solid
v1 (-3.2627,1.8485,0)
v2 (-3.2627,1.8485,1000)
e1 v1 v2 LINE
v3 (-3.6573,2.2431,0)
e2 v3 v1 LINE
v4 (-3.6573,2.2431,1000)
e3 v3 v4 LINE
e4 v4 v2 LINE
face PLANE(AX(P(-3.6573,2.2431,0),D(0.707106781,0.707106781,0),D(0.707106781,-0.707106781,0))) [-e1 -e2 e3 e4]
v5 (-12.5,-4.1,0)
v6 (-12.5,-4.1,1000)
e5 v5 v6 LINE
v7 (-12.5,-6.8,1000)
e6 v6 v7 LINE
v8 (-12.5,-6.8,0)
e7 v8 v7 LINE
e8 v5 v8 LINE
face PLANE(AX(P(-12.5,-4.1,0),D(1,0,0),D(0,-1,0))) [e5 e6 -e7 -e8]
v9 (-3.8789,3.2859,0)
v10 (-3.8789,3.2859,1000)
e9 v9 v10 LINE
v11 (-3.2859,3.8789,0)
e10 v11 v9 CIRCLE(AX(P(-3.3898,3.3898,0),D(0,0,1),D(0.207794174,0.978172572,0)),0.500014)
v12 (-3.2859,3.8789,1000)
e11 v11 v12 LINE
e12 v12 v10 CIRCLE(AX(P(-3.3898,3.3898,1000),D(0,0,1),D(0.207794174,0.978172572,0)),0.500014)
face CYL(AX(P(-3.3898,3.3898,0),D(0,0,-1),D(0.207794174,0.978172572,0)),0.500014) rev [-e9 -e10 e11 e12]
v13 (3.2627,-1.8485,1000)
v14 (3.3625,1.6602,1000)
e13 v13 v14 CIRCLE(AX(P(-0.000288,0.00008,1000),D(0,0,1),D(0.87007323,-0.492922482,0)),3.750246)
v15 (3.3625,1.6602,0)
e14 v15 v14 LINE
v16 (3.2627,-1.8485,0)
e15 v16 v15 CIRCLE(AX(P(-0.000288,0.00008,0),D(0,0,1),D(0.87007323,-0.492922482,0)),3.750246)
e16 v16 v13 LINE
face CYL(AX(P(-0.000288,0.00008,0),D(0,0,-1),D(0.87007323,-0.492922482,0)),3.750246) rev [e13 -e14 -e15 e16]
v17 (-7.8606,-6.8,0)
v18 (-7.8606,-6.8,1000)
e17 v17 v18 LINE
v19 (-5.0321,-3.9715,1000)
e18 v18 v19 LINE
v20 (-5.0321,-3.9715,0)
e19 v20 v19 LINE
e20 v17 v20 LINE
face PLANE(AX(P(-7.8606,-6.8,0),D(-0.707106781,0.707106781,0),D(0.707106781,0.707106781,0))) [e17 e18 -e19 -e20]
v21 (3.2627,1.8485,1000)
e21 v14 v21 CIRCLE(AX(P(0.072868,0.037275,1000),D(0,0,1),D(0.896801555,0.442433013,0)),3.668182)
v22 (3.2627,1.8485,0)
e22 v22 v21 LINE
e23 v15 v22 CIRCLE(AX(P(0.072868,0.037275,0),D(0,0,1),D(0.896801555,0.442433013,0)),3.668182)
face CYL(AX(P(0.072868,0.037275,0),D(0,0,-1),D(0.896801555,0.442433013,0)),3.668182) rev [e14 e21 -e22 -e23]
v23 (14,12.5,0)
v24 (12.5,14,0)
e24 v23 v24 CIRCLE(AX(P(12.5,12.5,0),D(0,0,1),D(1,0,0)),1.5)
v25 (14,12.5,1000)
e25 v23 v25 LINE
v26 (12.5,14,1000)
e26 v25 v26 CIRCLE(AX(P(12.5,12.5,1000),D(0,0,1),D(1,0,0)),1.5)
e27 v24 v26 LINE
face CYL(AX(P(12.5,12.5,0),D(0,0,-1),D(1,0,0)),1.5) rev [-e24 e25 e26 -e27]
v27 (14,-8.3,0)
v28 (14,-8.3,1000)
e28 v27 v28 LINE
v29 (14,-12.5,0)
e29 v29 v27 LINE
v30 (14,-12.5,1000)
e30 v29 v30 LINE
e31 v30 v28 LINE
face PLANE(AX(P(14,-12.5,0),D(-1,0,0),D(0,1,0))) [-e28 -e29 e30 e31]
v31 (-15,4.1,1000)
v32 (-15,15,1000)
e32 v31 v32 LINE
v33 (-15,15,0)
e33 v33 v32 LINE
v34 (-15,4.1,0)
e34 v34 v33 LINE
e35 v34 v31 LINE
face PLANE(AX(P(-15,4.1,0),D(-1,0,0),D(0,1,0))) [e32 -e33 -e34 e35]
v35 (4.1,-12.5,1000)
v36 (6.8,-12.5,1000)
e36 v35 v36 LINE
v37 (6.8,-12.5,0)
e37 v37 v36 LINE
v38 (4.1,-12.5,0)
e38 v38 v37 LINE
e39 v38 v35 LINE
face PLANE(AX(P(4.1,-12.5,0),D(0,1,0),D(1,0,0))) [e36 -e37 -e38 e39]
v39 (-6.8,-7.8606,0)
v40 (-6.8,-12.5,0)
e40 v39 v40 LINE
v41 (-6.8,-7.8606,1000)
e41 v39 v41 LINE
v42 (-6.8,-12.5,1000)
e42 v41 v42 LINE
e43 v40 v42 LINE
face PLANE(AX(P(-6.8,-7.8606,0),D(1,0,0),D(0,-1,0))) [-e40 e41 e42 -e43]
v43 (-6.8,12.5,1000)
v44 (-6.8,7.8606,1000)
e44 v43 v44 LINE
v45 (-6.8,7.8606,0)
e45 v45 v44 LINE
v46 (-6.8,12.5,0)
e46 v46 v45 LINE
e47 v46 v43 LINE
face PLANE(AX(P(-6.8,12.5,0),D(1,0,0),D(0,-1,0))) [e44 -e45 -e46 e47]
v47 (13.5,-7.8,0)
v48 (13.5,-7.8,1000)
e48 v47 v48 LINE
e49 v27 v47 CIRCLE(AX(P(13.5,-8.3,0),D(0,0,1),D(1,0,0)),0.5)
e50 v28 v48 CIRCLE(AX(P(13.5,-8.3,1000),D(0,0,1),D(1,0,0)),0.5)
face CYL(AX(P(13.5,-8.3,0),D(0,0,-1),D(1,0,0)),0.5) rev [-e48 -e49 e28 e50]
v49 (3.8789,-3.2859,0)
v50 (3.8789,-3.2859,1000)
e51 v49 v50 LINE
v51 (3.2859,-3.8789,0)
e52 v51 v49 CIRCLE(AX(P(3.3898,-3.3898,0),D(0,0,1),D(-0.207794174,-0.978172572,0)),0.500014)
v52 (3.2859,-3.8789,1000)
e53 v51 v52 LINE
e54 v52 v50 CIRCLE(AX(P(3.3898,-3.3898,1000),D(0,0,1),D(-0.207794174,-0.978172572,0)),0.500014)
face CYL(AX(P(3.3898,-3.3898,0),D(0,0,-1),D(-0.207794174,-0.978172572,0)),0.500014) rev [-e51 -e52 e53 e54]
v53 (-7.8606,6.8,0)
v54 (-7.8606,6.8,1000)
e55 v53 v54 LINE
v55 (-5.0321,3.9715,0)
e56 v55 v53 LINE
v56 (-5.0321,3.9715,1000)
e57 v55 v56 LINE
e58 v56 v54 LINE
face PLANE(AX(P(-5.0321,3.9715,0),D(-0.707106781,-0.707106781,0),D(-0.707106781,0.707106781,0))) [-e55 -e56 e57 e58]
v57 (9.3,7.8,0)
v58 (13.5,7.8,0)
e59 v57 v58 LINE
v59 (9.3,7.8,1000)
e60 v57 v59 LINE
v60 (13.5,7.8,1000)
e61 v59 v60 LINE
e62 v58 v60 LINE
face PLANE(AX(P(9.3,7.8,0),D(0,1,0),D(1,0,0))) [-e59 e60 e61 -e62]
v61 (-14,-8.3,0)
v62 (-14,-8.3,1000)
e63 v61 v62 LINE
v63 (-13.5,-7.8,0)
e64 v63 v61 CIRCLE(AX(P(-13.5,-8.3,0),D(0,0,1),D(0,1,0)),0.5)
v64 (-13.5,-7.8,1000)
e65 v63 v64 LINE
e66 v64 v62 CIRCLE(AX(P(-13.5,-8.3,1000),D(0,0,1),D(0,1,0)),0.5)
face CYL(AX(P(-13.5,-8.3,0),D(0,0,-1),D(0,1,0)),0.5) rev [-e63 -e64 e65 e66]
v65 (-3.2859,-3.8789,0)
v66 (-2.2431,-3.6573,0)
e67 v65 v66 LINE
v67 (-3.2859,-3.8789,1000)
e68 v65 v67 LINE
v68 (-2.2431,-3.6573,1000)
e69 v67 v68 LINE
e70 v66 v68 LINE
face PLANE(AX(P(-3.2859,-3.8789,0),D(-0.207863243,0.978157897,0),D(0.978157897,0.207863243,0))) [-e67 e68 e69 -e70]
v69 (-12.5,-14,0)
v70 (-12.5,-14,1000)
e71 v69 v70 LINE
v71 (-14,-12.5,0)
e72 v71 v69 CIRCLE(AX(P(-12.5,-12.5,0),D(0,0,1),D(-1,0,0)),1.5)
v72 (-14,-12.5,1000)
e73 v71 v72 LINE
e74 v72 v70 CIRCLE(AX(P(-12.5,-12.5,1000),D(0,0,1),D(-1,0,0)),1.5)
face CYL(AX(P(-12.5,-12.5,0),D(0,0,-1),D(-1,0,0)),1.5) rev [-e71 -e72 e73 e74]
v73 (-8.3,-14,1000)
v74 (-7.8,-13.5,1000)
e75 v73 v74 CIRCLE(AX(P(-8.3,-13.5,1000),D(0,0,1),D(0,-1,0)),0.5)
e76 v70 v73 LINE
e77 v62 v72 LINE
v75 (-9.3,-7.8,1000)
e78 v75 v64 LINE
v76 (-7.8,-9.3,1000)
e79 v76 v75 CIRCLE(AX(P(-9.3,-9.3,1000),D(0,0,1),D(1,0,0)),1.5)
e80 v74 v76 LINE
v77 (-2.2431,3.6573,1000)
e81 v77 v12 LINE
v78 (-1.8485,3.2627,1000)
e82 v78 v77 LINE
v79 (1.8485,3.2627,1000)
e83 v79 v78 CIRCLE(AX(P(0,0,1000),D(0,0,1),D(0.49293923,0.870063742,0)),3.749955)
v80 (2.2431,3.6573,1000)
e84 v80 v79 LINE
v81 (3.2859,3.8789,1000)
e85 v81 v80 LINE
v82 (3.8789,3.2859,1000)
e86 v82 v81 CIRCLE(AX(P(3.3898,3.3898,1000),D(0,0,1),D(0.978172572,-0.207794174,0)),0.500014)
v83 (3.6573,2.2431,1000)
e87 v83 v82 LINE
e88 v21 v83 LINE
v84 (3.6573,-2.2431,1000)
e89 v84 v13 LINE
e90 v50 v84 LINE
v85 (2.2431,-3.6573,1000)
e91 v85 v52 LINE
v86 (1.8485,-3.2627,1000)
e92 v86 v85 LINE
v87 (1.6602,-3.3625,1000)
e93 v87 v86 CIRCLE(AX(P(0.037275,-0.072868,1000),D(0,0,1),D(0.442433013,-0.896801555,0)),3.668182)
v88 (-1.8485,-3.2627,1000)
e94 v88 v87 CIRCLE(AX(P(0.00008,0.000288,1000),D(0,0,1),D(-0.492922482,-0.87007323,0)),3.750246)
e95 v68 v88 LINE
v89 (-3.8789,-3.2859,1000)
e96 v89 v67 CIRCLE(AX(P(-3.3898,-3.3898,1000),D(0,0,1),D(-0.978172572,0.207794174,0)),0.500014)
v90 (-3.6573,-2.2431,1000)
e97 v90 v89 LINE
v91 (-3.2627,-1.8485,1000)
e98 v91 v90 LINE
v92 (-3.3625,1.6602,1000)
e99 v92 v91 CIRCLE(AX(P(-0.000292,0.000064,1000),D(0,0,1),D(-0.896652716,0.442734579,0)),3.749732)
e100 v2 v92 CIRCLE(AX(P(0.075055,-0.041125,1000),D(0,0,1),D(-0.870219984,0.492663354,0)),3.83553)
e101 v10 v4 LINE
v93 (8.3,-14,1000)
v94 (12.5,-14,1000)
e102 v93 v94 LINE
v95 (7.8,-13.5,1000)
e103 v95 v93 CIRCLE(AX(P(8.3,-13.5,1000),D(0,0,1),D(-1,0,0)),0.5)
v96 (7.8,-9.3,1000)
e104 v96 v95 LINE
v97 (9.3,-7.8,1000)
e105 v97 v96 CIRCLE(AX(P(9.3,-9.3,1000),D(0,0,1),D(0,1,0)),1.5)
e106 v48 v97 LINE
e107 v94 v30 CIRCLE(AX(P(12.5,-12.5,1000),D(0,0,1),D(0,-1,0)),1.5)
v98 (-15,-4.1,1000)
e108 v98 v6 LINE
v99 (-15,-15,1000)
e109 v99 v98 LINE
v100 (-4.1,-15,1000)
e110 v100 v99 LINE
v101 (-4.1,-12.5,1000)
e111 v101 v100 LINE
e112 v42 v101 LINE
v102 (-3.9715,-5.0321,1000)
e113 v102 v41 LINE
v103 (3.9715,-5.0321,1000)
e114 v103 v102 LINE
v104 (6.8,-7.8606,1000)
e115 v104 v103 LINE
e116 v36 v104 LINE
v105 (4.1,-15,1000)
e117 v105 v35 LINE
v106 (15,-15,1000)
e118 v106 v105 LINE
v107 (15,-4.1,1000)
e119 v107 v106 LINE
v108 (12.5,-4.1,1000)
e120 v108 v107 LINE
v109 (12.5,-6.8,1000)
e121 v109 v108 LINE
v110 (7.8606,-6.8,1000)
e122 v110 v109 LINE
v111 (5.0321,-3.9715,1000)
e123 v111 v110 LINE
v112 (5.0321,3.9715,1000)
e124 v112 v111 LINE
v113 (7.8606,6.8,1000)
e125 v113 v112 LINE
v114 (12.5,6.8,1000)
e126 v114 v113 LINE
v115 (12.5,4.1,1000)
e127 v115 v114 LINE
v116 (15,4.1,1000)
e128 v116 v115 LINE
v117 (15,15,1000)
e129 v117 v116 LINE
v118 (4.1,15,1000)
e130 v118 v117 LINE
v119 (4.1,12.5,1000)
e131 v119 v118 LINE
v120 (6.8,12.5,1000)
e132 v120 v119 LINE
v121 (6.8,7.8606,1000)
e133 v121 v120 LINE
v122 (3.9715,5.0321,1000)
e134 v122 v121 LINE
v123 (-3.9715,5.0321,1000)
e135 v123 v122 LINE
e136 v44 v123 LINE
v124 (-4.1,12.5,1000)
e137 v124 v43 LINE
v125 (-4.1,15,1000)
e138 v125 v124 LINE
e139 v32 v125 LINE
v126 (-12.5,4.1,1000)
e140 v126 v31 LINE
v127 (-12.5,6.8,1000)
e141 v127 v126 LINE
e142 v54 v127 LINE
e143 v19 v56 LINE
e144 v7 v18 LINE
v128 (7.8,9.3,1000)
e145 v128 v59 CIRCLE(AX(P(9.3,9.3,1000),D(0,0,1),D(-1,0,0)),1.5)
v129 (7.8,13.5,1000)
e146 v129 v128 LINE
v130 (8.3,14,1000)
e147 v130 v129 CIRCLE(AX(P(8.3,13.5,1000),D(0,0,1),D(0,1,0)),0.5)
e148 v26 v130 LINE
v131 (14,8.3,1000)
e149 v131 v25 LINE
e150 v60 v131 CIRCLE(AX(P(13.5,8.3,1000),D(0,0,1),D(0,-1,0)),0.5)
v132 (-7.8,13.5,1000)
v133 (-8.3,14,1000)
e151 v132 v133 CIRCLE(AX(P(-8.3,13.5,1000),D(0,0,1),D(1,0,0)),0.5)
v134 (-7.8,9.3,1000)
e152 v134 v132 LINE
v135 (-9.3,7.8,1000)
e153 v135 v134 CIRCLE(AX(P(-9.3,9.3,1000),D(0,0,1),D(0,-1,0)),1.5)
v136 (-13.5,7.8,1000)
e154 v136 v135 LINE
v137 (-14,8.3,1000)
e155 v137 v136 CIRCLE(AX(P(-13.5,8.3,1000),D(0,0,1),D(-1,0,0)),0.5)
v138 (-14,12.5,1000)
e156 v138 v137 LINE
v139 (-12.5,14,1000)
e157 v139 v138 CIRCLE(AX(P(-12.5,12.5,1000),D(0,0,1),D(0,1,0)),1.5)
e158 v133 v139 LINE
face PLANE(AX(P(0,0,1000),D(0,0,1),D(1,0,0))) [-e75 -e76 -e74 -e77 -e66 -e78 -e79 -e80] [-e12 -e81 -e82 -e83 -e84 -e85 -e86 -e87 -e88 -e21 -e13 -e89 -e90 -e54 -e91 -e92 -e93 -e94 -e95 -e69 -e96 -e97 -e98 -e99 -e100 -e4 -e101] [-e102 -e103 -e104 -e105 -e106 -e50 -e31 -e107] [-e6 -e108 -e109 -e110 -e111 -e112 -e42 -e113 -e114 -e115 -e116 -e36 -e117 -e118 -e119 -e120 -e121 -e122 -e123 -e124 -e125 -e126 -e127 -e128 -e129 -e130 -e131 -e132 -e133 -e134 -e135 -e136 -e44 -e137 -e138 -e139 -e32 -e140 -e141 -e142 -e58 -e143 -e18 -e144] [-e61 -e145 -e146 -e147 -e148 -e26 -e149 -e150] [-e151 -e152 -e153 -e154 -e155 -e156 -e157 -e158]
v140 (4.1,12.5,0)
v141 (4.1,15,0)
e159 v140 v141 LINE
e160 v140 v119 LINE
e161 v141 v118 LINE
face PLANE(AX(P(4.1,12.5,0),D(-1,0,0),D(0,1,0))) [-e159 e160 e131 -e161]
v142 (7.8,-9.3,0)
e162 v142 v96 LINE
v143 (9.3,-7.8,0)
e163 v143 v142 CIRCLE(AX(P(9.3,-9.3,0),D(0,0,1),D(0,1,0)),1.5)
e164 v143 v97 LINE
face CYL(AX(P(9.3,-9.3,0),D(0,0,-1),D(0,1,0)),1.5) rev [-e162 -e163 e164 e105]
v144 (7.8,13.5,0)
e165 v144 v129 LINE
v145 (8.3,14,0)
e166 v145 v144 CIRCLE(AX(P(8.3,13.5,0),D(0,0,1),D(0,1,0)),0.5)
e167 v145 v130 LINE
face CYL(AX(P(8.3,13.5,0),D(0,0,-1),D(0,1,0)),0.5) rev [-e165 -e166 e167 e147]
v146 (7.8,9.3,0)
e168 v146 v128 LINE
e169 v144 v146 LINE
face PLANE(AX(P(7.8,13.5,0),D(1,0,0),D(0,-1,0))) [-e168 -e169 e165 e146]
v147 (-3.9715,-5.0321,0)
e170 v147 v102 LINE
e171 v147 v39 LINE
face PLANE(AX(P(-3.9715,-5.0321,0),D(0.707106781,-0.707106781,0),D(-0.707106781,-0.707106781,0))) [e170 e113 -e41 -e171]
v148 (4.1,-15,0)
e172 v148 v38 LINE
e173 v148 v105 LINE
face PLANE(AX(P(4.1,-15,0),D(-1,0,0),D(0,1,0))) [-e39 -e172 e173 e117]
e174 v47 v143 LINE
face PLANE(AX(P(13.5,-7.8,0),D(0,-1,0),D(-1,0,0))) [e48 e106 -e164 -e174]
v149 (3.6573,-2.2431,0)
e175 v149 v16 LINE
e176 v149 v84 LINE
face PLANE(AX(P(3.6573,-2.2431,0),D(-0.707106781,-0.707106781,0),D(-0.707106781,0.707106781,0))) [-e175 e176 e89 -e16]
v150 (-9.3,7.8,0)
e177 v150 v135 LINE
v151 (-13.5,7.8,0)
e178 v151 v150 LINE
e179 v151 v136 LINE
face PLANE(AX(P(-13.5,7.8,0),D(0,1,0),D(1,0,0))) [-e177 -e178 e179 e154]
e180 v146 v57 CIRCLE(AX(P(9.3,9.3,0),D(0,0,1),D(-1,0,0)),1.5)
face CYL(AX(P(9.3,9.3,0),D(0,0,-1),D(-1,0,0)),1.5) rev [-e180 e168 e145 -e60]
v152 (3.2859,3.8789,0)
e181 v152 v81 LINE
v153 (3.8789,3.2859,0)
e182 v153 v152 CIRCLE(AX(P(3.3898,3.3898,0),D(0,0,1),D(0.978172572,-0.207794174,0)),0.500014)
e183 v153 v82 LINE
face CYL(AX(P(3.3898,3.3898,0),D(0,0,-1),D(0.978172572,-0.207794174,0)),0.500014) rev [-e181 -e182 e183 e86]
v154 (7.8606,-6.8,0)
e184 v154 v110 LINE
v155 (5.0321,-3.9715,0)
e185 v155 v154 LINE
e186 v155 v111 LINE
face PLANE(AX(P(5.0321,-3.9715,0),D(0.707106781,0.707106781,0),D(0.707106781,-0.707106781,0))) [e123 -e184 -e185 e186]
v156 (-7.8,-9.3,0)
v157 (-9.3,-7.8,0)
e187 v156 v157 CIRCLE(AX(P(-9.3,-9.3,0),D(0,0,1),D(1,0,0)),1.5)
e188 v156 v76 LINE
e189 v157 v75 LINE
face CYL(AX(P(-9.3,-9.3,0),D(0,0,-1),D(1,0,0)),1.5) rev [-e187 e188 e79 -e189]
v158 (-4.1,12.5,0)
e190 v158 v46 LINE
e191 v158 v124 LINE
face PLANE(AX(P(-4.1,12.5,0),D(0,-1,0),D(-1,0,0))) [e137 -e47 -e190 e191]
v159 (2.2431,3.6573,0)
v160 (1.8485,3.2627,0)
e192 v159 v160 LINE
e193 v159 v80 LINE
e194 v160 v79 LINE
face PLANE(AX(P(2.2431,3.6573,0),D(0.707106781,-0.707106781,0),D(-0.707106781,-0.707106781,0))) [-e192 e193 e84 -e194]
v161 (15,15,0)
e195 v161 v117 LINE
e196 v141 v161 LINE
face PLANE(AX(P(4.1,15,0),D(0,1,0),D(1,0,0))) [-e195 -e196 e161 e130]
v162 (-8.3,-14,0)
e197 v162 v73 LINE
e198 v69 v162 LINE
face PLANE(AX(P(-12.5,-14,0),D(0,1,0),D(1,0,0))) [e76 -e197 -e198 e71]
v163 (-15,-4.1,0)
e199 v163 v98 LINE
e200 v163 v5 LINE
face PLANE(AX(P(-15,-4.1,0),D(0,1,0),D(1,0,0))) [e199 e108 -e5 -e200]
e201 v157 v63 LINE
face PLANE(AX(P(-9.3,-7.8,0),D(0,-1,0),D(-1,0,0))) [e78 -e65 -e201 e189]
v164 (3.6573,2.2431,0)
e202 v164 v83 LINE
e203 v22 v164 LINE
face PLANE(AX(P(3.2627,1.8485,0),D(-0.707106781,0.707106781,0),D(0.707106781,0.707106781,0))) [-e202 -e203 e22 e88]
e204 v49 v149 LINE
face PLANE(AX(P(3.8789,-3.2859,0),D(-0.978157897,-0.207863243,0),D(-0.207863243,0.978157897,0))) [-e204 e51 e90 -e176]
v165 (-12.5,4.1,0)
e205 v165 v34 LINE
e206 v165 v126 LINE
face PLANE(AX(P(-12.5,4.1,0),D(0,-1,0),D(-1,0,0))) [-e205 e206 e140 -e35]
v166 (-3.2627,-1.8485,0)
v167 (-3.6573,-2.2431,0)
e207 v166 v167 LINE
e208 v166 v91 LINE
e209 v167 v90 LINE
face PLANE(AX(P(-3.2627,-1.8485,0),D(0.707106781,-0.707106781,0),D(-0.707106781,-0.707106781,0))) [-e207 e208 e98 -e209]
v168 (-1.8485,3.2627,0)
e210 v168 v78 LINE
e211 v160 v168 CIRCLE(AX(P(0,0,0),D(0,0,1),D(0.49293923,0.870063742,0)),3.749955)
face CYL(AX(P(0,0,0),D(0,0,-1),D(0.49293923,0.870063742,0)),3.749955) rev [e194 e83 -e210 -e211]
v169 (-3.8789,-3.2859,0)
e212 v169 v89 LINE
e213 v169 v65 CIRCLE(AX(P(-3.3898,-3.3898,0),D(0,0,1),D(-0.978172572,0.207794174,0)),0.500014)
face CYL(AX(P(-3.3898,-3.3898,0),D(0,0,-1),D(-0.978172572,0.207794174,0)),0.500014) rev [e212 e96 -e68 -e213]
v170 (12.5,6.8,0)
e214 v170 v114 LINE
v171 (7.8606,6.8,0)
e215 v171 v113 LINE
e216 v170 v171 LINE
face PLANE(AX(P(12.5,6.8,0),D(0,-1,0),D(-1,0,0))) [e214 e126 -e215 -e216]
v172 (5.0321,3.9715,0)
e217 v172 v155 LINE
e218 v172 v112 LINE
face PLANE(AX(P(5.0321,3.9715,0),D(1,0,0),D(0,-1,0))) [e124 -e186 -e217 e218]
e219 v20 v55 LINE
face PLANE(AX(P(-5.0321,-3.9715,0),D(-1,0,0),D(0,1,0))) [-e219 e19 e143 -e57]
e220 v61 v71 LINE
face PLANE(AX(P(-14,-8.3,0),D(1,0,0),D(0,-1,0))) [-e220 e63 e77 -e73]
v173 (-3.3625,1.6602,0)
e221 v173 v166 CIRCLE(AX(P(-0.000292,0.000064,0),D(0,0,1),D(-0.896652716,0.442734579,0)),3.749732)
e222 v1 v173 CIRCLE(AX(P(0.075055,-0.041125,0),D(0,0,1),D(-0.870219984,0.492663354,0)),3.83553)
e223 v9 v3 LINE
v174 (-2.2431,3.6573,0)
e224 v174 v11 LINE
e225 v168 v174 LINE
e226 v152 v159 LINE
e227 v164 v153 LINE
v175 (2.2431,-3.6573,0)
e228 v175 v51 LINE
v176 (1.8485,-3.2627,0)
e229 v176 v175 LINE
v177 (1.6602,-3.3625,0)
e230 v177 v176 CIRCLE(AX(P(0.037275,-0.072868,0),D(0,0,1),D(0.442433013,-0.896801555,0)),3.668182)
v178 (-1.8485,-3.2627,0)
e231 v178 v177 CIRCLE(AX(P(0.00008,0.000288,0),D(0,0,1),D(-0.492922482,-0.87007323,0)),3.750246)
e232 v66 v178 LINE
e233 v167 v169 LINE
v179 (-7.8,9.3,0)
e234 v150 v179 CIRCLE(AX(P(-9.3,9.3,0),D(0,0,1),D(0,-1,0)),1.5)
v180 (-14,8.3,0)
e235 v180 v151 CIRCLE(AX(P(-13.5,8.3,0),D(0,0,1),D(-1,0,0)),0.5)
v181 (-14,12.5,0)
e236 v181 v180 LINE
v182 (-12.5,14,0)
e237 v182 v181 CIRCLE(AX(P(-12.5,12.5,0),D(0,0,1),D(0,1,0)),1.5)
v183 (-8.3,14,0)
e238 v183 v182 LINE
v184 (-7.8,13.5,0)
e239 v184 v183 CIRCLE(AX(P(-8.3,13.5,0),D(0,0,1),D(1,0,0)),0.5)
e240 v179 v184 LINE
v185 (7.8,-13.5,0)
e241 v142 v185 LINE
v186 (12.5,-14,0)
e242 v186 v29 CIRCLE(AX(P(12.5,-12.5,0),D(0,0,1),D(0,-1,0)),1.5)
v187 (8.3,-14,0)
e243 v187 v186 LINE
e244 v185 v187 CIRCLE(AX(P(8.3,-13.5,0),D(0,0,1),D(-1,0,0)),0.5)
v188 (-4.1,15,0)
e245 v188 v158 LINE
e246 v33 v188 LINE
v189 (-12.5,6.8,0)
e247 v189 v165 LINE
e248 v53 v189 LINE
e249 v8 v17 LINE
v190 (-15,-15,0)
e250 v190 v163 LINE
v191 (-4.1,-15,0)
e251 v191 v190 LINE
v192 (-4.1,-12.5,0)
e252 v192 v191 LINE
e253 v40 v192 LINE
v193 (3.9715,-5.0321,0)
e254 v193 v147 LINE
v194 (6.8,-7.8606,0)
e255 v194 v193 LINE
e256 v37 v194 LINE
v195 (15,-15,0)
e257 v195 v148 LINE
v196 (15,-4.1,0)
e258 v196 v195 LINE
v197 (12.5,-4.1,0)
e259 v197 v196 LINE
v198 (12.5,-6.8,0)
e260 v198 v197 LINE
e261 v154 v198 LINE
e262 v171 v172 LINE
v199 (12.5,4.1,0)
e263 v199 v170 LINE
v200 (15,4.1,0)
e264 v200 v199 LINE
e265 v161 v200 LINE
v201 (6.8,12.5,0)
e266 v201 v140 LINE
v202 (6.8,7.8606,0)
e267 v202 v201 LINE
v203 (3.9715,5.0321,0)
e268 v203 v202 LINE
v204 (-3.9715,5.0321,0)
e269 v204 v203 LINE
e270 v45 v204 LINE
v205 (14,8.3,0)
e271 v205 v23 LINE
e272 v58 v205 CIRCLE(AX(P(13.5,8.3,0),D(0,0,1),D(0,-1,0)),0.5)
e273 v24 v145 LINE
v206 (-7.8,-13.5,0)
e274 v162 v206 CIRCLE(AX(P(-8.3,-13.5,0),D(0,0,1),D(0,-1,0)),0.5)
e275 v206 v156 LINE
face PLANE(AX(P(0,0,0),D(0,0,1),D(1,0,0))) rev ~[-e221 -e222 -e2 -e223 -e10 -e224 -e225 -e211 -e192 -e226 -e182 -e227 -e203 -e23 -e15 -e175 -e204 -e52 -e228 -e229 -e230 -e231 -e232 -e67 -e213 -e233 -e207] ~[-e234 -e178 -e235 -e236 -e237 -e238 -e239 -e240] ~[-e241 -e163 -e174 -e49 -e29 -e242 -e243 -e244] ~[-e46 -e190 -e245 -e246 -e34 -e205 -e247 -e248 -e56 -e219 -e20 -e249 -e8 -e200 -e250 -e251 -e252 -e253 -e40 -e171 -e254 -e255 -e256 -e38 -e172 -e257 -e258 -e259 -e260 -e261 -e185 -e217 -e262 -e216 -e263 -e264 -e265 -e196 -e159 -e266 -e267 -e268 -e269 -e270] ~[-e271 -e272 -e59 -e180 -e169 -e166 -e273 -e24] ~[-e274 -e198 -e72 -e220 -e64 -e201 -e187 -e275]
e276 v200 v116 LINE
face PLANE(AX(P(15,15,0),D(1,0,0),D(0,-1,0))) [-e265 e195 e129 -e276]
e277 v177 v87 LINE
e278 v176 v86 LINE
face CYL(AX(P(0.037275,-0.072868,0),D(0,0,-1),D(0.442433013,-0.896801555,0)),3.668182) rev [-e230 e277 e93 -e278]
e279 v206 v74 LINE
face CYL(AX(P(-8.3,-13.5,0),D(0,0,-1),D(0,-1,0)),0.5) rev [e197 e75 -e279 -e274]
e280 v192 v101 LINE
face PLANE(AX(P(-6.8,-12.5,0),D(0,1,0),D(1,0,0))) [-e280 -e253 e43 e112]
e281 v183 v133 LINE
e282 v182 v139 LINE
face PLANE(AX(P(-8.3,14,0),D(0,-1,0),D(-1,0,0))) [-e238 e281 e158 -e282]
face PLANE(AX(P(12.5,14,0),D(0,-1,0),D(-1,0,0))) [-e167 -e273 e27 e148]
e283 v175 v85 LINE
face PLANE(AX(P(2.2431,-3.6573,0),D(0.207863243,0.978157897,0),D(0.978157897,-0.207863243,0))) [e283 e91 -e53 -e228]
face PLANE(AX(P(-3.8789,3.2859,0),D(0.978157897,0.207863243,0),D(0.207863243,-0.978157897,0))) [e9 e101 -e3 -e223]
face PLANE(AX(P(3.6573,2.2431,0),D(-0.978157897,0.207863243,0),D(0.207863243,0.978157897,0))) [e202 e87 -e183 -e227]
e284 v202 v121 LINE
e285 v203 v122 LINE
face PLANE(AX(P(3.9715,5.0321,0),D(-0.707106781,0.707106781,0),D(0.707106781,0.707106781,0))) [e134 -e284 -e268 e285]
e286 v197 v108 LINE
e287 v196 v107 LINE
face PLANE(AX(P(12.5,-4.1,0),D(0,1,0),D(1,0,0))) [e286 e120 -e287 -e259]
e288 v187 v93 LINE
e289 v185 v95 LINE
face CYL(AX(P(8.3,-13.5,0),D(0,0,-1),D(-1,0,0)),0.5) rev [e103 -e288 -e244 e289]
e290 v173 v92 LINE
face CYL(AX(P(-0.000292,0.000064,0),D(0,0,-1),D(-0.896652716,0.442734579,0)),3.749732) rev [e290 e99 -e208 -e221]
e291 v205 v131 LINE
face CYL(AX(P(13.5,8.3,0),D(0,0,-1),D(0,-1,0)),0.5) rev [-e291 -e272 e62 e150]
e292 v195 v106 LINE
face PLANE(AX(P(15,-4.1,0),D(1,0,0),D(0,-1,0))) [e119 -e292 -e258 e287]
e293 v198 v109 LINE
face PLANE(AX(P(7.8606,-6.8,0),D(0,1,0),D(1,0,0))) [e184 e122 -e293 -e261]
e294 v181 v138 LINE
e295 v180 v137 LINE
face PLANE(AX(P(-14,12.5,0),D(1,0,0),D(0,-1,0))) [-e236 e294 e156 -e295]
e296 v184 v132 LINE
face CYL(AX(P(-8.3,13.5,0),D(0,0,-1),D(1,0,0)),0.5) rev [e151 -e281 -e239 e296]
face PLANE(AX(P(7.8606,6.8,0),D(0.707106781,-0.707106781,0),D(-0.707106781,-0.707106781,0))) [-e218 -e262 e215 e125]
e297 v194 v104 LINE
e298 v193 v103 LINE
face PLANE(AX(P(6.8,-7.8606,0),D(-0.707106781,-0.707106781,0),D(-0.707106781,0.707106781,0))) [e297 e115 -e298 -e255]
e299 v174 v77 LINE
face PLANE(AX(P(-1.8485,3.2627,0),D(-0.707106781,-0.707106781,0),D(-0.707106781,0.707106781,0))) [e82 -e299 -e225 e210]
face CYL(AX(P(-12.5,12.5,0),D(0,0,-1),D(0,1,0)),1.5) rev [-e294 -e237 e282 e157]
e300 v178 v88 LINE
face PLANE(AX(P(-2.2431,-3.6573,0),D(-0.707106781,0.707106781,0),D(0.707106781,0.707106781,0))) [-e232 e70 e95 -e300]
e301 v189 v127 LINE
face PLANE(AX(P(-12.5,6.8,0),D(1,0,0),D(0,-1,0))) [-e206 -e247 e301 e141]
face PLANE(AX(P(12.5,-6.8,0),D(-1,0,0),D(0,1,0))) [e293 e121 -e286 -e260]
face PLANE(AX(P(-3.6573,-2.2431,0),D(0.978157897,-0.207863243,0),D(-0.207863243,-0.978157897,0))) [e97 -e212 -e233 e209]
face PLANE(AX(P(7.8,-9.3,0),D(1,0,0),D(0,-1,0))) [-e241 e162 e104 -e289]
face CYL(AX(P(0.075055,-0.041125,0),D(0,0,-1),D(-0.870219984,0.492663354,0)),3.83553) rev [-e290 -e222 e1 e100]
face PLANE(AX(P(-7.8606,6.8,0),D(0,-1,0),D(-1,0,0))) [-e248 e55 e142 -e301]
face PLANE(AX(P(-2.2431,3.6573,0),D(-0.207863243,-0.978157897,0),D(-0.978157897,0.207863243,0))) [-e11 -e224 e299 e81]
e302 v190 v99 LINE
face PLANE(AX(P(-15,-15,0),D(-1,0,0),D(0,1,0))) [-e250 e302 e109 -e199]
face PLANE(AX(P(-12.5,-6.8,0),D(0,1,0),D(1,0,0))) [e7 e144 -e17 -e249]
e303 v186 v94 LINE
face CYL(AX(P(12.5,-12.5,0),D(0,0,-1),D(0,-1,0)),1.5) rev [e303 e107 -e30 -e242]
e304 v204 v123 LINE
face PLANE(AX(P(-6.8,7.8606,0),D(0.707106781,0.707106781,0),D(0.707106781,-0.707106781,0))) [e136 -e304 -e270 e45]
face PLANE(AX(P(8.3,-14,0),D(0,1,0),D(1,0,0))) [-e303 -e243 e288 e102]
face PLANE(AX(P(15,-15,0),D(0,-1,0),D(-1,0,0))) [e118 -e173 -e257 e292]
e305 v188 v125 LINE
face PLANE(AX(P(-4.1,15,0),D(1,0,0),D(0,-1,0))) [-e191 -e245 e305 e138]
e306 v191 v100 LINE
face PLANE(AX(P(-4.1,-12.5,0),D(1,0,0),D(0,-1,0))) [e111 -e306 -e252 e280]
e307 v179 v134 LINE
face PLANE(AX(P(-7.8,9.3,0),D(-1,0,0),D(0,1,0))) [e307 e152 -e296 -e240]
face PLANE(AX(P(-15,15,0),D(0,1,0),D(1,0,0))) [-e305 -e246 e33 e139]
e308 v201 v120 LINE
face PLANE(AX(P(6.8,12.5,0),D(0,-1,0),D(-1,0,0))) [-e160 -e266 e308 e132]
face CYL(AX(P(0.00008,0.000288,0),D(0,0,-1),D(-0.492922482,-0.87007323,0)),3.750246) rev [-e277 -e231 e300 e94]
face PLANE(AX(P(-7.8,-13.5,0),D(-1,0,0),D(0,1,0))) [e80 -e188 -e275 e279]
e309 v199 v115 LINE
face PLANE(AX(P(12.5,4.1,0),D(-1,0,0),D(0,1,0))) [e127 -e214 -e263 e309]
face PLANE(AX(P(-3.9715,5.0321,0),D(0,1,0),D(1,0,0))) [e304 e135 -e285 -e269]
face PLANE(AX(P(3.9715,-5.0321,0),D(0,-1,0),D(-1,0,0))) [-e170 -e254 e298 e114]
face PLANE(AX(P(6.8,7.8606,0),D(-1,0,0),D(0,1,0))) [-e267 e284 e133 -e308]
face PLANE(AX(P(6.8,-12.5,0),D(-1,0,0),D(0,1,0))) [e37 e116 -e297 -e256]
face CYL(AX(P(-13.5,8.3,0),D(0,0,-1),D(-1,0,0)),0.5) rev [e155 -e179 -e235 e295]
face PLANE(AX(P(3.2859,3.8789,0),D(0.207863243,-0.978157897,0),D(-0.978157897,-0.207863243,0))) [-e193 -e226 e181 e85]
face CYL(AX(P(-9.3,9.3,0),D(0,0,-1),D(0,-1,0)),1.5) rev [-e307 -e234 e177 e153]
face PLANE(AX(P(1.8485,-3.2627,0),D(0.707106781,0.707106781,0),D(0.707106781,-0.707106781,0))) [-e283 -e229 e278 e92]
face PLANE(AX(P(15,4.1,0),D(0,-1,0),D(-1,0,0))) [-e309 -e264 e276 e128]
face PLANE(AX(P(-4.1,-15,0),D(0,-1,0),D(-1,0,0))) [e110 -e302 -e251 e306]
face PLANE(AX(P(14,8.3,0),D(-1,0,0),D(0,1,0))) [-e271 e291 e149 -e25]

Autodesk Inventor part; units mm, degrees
ref_plane "YZ Plane" through (0, 0, 0) normal (1, 0, 0) x (0, 1, 0)
ref_plane "XZ Plane" through (0, 0, 0) normal (0, 1, 0) x (-1, 0, 0)
ref_plane "XY Plane" through (0, 0, 0) normal (0, 0, 1) x (1, 0, 0)
sketch "Sketch1" plane through (0, 0, 0) normal (0, 0, 1) x (1, 0, 0)
  arc A0 (9.3, -7.8) -> (7.8, -9.3) centre (9.3, -9.3) ccw
  line L0 (13.5, -7.8) -> (9.3, -7.8)
  arc A1 (14, -8.3) -> (13.5, -7.8) centre (13.5, -8.3) ccw
  line L1 (14, -12.5) -> (14, -8.3)
  arc A2 (12.5, -14) -> (14, -12.5) centre (12.5, -12.5) ccw
  line L2 (8.3, -14) -> (12.5, -14)
  arc A3 (7.8, -13.5) -> (8.3, -14) centre (8.3, -13.5) ccw
  line L3 (7.8, -9.3) -> (7.8, -13.5)
  arc A4 (-13.5, -7.8) -> (-14, -8.3) centre (-13.5, -8.3) ccw
  line L4 (-9.3, -7.8) -> (-13.5, -7.8)
  arc A5 (-7.8, -9.3) -> (-9.3, -7.8) centre (-9.3, -9.3) ccw
  line L5 (-7.8, -13.5) -> (-7.8, -9.3)
  arc A6 (-8.3, -14) -> (-7.8, -13.5) centre (-8.3, -13.5) ccw
  line L6 (-12.5, -14) -> (-8.3, -14)
  arc A7 (-14, -12.5) -> (-12.5, -14) centre (-12.5, -12.5) ccw
  line L7 (-14, -8.3) -> (-14, -12.5)
  line L8 (3.2859, 3.8789) -> (2.2431, 3.6573)
  arc A8 (3.8789, 3.2859) -> (3.2859, 3.8789) centre (3.3898, 3.3898) ccw
  line L9 (3.6573, 2.2431) -> (3.8789, 3.2859)
  line L10 (3.2627, 1.8485) -> (3.6573, 2.2431)
  line L11 (3.6573, -2.2431) -> (3.2627, -1.8485)
  line L12 (3.8789, -3.2859) -> (3.6573, -2.2431)
  arc A9 (3.2859, -3.8789) -> (3.8789, -3.2859) centre (3.3898, -3.3898) ccw
  line L13 (2.2431, -3.6573) -> (3.2859, -3.8789)
  line L14 (1.8485, -3.2627) -> (2.2431, -3.6573)
  arc A10 (-1.8485, -3.2627) -> (1.6602, -3.3625) centre (0, 0) ccw
  line L15 (-2.2431, -3.6573) -> (-1.8485, -3.2627)
  line L16 (-3.2859, -3.8789) -> (-2.2431, -3.6573)
  arc A11 (-3.8789, -3.2859) -> (-3.2859, -3.8789) centre (-3.3898, -3.3898) ccw
  line L17 (-3.6573, -2.2431) -> (-3.8789, -3.2859)
  line L18 (-3.2627, -1.8485) -> (-3.6573, -2.2431)
  arc A12 (-3.3625, 1.6602) -> (-3.2627, -1.8485) centre (0, 0) ccw
  line L19 (-3.6573, 2.2431) -> (-3.2627, 1.8485)
  line L20 (-3.8789, 3.2859) -> (-3.6573, 2.2431)
  arc A13 (-3.2859, 3.8789) -> (-3.8789, 3.2859) centre (-3.3898, 3.3898) ccw
  line L21 (-2.2431, 3.6573) -> (-3.2859, 3.8789)
  line L22 (-1.8485, 3.2627) -> (-2.2431, 3.6573)
  line L23 (2.2431, 3.6573) -> (1.8485, 3.2627)
  arc A14 (13.5, 7.8) -> (14, 8.3) centre (13.5, 8.3) ccw
  line L24 (9.3, 7.8) -> (13.5, 7.8)
  arc A15 (7.8, 9.3) -> (9.3, 7.8) centre (9.3, 9.3) ccw
  line L25 (7.8, 13.5) -> (7.8, 9.3)
  arc A16 (8.3, 14) -> (7.8, 13.5) centre (8.3, 13.5) ccw
  line L26 (12.5, 14) -> (8.3, 14)
  arc A17 (14, 12.5) -> (12.5, 14) centre (12.5, 12.5) ccw
  line L27 (14, 8.3) -> (14, 12.5)
  arc A18 (-12.5, 14) -> (-14, 12.5) centre (-12.5, 12.5) ccw
  line L28 (-8.3, 14) -> (-12.5, 14)
  arc A19 (-7.8, 13.5) -> (-8.3, 14) centre (-8.3, 13.5) ccw
  line L29 (-7.8, 9.3) -> (-7.8, 13.5)
  arc A20 (-9.3, 7.8) -> (-7.8, 9.3) centre (-9.3, 9.3) ccw
  line L30 (-13.5, 7.8) -> (-9.3, 7.8)
  arc A21 (-14, 8.3) -> (-13.5, 7.8) centre (-13.5, 8.3) ccw
  line L31 (-14, 12.5) -> (-14, 8.3)
  line L32 (12.5, 4.1) -> (12.5, 6.8)
  line L33 (15, 4.1) -> (12.5, 4.1)
  line L34 (15, 15) -> (15, 4.1)
  line L35 (4.1, 15) -> (15, 15)
  line L36 (4.1, 12.5) -> (4.1, 15)
  line L37 (6.8, 12.5) -> (4.1, 12.5)
  line L38 (6.8, 7.8606) -> (6.8, 12.5)
  line L39 (3.9715, 5.0321) -> (6.8, 7.8606)
  line L40 (-3.9715, 5.0321) -> (3.9715, 5.0321)
  line L41 (-6.8, 7.8606) -> (-3.9715, 5.0321)
  line L42 (-6.8, 12.5) -> (-6.8, 7.8606)
  line L43 (-4.1, 12.5) -> (-6.8, 12.5)
  line L44 (-4.1, 15) -> (-4.1, 12.5)
  line L45 (-15, 15) -> (-4.1, 15)
  line L46 (-15, 4.1) -> (-15, 15)
  line L47 (-12.5, 4.1) -> (-15, 4.1)
  line L48 (-12.5, 6.8) -> (-12.5, 4.1)
  line L49 (-7.8606, 6.8) -> (-12.5, 6.8)
  line L50 (-5.0321, 3.9715) -> (-7.8606, 6.8)
  line L51 (-5.0321, -3.9715) -> (-5.0321, 3.9715)
  line L52 (-7.8606, -6.8) -> (-5.0321, -3.9715)
  line L53 (-12.5, -6.8) -> (-7.8606, -6.8)
  line L54 (-12.5, -4.1) -> (-12.5, -6.8)
  line L55 (-15, -4.1) -> (-12.5, -4.1)
  line L56 (-15, -15) -> (-15, -4.1)
  line L57 (-4.1, -15) -> (-15, -15)
  line L58 (-4.1, -12.5) -> (-4.1, -15)
  line L59 (-6.8, -12.5) -> (-4.1, -12.5)
  line L60 (-6.8, -7.8606) -> (-6.8, -12.5)
  line L61 (-3.9715, -5.0321) -> (-6.8, -7.8606)
  line L62 (3.9715, -5.0321) -> (-3.9715, -5.0321)
  line L63 (6.8, -7.8606) -> (3.9715, -5.0321)
  line L64 (6.8, -12.5) -> (6.8, -7.8606)
  line L65 (4.1, -12.5) -> (6.8, -12.5)
  line L66 (4.1, -15) -> (4.1, -12.5)
  line L67 (15, -15) -> (4.1, -15)
  line L68 (15, -4.1) -> (15, -15)
  line L69 (12.5, -4.1) -> (15, -4.1)
  line L70 (12.5, -6.8) -> (12.5, -4.1)
  line L71 (7.8606, -6.8) -> (12.5, -6.8)
  line L72 (5.0321, -3.9715) -> (7.8606, -6.8)
  line L73 (5.0321, 3.9715) -> (5.0321, -3.9715)
  line L74 (7.8606, 6.8) -> (5.0321, 3.9715)
  line L75 (12.5, 6.8) -> (7.8606, 6.8)
  arc A22 (-3.2627, 1.8485) -> (-3.3625, 1.6602) centre (0, 0) ccw
  arc A23 (3.3625, 1.6602) -> (3.2627, 1.8485) centre (0, 0) ccw
  arc A24 (1.8485, 3.2627) -> (-1.8485, 3.2627) centre (0, 0) ccw
  arc A25 (1.6602, -3.3625) -> (1.8485, -3.2627) centre (0, 0) ccw
  arc A26 (3.2627, -1.8485) -> (3.3625, 1.6602) centre (0, 0) ccw
extrude "Extrusion1" add sketch "Sketch1" along normal blind 1000
properties part number "30x30-01" material "Aluminum-6061"
